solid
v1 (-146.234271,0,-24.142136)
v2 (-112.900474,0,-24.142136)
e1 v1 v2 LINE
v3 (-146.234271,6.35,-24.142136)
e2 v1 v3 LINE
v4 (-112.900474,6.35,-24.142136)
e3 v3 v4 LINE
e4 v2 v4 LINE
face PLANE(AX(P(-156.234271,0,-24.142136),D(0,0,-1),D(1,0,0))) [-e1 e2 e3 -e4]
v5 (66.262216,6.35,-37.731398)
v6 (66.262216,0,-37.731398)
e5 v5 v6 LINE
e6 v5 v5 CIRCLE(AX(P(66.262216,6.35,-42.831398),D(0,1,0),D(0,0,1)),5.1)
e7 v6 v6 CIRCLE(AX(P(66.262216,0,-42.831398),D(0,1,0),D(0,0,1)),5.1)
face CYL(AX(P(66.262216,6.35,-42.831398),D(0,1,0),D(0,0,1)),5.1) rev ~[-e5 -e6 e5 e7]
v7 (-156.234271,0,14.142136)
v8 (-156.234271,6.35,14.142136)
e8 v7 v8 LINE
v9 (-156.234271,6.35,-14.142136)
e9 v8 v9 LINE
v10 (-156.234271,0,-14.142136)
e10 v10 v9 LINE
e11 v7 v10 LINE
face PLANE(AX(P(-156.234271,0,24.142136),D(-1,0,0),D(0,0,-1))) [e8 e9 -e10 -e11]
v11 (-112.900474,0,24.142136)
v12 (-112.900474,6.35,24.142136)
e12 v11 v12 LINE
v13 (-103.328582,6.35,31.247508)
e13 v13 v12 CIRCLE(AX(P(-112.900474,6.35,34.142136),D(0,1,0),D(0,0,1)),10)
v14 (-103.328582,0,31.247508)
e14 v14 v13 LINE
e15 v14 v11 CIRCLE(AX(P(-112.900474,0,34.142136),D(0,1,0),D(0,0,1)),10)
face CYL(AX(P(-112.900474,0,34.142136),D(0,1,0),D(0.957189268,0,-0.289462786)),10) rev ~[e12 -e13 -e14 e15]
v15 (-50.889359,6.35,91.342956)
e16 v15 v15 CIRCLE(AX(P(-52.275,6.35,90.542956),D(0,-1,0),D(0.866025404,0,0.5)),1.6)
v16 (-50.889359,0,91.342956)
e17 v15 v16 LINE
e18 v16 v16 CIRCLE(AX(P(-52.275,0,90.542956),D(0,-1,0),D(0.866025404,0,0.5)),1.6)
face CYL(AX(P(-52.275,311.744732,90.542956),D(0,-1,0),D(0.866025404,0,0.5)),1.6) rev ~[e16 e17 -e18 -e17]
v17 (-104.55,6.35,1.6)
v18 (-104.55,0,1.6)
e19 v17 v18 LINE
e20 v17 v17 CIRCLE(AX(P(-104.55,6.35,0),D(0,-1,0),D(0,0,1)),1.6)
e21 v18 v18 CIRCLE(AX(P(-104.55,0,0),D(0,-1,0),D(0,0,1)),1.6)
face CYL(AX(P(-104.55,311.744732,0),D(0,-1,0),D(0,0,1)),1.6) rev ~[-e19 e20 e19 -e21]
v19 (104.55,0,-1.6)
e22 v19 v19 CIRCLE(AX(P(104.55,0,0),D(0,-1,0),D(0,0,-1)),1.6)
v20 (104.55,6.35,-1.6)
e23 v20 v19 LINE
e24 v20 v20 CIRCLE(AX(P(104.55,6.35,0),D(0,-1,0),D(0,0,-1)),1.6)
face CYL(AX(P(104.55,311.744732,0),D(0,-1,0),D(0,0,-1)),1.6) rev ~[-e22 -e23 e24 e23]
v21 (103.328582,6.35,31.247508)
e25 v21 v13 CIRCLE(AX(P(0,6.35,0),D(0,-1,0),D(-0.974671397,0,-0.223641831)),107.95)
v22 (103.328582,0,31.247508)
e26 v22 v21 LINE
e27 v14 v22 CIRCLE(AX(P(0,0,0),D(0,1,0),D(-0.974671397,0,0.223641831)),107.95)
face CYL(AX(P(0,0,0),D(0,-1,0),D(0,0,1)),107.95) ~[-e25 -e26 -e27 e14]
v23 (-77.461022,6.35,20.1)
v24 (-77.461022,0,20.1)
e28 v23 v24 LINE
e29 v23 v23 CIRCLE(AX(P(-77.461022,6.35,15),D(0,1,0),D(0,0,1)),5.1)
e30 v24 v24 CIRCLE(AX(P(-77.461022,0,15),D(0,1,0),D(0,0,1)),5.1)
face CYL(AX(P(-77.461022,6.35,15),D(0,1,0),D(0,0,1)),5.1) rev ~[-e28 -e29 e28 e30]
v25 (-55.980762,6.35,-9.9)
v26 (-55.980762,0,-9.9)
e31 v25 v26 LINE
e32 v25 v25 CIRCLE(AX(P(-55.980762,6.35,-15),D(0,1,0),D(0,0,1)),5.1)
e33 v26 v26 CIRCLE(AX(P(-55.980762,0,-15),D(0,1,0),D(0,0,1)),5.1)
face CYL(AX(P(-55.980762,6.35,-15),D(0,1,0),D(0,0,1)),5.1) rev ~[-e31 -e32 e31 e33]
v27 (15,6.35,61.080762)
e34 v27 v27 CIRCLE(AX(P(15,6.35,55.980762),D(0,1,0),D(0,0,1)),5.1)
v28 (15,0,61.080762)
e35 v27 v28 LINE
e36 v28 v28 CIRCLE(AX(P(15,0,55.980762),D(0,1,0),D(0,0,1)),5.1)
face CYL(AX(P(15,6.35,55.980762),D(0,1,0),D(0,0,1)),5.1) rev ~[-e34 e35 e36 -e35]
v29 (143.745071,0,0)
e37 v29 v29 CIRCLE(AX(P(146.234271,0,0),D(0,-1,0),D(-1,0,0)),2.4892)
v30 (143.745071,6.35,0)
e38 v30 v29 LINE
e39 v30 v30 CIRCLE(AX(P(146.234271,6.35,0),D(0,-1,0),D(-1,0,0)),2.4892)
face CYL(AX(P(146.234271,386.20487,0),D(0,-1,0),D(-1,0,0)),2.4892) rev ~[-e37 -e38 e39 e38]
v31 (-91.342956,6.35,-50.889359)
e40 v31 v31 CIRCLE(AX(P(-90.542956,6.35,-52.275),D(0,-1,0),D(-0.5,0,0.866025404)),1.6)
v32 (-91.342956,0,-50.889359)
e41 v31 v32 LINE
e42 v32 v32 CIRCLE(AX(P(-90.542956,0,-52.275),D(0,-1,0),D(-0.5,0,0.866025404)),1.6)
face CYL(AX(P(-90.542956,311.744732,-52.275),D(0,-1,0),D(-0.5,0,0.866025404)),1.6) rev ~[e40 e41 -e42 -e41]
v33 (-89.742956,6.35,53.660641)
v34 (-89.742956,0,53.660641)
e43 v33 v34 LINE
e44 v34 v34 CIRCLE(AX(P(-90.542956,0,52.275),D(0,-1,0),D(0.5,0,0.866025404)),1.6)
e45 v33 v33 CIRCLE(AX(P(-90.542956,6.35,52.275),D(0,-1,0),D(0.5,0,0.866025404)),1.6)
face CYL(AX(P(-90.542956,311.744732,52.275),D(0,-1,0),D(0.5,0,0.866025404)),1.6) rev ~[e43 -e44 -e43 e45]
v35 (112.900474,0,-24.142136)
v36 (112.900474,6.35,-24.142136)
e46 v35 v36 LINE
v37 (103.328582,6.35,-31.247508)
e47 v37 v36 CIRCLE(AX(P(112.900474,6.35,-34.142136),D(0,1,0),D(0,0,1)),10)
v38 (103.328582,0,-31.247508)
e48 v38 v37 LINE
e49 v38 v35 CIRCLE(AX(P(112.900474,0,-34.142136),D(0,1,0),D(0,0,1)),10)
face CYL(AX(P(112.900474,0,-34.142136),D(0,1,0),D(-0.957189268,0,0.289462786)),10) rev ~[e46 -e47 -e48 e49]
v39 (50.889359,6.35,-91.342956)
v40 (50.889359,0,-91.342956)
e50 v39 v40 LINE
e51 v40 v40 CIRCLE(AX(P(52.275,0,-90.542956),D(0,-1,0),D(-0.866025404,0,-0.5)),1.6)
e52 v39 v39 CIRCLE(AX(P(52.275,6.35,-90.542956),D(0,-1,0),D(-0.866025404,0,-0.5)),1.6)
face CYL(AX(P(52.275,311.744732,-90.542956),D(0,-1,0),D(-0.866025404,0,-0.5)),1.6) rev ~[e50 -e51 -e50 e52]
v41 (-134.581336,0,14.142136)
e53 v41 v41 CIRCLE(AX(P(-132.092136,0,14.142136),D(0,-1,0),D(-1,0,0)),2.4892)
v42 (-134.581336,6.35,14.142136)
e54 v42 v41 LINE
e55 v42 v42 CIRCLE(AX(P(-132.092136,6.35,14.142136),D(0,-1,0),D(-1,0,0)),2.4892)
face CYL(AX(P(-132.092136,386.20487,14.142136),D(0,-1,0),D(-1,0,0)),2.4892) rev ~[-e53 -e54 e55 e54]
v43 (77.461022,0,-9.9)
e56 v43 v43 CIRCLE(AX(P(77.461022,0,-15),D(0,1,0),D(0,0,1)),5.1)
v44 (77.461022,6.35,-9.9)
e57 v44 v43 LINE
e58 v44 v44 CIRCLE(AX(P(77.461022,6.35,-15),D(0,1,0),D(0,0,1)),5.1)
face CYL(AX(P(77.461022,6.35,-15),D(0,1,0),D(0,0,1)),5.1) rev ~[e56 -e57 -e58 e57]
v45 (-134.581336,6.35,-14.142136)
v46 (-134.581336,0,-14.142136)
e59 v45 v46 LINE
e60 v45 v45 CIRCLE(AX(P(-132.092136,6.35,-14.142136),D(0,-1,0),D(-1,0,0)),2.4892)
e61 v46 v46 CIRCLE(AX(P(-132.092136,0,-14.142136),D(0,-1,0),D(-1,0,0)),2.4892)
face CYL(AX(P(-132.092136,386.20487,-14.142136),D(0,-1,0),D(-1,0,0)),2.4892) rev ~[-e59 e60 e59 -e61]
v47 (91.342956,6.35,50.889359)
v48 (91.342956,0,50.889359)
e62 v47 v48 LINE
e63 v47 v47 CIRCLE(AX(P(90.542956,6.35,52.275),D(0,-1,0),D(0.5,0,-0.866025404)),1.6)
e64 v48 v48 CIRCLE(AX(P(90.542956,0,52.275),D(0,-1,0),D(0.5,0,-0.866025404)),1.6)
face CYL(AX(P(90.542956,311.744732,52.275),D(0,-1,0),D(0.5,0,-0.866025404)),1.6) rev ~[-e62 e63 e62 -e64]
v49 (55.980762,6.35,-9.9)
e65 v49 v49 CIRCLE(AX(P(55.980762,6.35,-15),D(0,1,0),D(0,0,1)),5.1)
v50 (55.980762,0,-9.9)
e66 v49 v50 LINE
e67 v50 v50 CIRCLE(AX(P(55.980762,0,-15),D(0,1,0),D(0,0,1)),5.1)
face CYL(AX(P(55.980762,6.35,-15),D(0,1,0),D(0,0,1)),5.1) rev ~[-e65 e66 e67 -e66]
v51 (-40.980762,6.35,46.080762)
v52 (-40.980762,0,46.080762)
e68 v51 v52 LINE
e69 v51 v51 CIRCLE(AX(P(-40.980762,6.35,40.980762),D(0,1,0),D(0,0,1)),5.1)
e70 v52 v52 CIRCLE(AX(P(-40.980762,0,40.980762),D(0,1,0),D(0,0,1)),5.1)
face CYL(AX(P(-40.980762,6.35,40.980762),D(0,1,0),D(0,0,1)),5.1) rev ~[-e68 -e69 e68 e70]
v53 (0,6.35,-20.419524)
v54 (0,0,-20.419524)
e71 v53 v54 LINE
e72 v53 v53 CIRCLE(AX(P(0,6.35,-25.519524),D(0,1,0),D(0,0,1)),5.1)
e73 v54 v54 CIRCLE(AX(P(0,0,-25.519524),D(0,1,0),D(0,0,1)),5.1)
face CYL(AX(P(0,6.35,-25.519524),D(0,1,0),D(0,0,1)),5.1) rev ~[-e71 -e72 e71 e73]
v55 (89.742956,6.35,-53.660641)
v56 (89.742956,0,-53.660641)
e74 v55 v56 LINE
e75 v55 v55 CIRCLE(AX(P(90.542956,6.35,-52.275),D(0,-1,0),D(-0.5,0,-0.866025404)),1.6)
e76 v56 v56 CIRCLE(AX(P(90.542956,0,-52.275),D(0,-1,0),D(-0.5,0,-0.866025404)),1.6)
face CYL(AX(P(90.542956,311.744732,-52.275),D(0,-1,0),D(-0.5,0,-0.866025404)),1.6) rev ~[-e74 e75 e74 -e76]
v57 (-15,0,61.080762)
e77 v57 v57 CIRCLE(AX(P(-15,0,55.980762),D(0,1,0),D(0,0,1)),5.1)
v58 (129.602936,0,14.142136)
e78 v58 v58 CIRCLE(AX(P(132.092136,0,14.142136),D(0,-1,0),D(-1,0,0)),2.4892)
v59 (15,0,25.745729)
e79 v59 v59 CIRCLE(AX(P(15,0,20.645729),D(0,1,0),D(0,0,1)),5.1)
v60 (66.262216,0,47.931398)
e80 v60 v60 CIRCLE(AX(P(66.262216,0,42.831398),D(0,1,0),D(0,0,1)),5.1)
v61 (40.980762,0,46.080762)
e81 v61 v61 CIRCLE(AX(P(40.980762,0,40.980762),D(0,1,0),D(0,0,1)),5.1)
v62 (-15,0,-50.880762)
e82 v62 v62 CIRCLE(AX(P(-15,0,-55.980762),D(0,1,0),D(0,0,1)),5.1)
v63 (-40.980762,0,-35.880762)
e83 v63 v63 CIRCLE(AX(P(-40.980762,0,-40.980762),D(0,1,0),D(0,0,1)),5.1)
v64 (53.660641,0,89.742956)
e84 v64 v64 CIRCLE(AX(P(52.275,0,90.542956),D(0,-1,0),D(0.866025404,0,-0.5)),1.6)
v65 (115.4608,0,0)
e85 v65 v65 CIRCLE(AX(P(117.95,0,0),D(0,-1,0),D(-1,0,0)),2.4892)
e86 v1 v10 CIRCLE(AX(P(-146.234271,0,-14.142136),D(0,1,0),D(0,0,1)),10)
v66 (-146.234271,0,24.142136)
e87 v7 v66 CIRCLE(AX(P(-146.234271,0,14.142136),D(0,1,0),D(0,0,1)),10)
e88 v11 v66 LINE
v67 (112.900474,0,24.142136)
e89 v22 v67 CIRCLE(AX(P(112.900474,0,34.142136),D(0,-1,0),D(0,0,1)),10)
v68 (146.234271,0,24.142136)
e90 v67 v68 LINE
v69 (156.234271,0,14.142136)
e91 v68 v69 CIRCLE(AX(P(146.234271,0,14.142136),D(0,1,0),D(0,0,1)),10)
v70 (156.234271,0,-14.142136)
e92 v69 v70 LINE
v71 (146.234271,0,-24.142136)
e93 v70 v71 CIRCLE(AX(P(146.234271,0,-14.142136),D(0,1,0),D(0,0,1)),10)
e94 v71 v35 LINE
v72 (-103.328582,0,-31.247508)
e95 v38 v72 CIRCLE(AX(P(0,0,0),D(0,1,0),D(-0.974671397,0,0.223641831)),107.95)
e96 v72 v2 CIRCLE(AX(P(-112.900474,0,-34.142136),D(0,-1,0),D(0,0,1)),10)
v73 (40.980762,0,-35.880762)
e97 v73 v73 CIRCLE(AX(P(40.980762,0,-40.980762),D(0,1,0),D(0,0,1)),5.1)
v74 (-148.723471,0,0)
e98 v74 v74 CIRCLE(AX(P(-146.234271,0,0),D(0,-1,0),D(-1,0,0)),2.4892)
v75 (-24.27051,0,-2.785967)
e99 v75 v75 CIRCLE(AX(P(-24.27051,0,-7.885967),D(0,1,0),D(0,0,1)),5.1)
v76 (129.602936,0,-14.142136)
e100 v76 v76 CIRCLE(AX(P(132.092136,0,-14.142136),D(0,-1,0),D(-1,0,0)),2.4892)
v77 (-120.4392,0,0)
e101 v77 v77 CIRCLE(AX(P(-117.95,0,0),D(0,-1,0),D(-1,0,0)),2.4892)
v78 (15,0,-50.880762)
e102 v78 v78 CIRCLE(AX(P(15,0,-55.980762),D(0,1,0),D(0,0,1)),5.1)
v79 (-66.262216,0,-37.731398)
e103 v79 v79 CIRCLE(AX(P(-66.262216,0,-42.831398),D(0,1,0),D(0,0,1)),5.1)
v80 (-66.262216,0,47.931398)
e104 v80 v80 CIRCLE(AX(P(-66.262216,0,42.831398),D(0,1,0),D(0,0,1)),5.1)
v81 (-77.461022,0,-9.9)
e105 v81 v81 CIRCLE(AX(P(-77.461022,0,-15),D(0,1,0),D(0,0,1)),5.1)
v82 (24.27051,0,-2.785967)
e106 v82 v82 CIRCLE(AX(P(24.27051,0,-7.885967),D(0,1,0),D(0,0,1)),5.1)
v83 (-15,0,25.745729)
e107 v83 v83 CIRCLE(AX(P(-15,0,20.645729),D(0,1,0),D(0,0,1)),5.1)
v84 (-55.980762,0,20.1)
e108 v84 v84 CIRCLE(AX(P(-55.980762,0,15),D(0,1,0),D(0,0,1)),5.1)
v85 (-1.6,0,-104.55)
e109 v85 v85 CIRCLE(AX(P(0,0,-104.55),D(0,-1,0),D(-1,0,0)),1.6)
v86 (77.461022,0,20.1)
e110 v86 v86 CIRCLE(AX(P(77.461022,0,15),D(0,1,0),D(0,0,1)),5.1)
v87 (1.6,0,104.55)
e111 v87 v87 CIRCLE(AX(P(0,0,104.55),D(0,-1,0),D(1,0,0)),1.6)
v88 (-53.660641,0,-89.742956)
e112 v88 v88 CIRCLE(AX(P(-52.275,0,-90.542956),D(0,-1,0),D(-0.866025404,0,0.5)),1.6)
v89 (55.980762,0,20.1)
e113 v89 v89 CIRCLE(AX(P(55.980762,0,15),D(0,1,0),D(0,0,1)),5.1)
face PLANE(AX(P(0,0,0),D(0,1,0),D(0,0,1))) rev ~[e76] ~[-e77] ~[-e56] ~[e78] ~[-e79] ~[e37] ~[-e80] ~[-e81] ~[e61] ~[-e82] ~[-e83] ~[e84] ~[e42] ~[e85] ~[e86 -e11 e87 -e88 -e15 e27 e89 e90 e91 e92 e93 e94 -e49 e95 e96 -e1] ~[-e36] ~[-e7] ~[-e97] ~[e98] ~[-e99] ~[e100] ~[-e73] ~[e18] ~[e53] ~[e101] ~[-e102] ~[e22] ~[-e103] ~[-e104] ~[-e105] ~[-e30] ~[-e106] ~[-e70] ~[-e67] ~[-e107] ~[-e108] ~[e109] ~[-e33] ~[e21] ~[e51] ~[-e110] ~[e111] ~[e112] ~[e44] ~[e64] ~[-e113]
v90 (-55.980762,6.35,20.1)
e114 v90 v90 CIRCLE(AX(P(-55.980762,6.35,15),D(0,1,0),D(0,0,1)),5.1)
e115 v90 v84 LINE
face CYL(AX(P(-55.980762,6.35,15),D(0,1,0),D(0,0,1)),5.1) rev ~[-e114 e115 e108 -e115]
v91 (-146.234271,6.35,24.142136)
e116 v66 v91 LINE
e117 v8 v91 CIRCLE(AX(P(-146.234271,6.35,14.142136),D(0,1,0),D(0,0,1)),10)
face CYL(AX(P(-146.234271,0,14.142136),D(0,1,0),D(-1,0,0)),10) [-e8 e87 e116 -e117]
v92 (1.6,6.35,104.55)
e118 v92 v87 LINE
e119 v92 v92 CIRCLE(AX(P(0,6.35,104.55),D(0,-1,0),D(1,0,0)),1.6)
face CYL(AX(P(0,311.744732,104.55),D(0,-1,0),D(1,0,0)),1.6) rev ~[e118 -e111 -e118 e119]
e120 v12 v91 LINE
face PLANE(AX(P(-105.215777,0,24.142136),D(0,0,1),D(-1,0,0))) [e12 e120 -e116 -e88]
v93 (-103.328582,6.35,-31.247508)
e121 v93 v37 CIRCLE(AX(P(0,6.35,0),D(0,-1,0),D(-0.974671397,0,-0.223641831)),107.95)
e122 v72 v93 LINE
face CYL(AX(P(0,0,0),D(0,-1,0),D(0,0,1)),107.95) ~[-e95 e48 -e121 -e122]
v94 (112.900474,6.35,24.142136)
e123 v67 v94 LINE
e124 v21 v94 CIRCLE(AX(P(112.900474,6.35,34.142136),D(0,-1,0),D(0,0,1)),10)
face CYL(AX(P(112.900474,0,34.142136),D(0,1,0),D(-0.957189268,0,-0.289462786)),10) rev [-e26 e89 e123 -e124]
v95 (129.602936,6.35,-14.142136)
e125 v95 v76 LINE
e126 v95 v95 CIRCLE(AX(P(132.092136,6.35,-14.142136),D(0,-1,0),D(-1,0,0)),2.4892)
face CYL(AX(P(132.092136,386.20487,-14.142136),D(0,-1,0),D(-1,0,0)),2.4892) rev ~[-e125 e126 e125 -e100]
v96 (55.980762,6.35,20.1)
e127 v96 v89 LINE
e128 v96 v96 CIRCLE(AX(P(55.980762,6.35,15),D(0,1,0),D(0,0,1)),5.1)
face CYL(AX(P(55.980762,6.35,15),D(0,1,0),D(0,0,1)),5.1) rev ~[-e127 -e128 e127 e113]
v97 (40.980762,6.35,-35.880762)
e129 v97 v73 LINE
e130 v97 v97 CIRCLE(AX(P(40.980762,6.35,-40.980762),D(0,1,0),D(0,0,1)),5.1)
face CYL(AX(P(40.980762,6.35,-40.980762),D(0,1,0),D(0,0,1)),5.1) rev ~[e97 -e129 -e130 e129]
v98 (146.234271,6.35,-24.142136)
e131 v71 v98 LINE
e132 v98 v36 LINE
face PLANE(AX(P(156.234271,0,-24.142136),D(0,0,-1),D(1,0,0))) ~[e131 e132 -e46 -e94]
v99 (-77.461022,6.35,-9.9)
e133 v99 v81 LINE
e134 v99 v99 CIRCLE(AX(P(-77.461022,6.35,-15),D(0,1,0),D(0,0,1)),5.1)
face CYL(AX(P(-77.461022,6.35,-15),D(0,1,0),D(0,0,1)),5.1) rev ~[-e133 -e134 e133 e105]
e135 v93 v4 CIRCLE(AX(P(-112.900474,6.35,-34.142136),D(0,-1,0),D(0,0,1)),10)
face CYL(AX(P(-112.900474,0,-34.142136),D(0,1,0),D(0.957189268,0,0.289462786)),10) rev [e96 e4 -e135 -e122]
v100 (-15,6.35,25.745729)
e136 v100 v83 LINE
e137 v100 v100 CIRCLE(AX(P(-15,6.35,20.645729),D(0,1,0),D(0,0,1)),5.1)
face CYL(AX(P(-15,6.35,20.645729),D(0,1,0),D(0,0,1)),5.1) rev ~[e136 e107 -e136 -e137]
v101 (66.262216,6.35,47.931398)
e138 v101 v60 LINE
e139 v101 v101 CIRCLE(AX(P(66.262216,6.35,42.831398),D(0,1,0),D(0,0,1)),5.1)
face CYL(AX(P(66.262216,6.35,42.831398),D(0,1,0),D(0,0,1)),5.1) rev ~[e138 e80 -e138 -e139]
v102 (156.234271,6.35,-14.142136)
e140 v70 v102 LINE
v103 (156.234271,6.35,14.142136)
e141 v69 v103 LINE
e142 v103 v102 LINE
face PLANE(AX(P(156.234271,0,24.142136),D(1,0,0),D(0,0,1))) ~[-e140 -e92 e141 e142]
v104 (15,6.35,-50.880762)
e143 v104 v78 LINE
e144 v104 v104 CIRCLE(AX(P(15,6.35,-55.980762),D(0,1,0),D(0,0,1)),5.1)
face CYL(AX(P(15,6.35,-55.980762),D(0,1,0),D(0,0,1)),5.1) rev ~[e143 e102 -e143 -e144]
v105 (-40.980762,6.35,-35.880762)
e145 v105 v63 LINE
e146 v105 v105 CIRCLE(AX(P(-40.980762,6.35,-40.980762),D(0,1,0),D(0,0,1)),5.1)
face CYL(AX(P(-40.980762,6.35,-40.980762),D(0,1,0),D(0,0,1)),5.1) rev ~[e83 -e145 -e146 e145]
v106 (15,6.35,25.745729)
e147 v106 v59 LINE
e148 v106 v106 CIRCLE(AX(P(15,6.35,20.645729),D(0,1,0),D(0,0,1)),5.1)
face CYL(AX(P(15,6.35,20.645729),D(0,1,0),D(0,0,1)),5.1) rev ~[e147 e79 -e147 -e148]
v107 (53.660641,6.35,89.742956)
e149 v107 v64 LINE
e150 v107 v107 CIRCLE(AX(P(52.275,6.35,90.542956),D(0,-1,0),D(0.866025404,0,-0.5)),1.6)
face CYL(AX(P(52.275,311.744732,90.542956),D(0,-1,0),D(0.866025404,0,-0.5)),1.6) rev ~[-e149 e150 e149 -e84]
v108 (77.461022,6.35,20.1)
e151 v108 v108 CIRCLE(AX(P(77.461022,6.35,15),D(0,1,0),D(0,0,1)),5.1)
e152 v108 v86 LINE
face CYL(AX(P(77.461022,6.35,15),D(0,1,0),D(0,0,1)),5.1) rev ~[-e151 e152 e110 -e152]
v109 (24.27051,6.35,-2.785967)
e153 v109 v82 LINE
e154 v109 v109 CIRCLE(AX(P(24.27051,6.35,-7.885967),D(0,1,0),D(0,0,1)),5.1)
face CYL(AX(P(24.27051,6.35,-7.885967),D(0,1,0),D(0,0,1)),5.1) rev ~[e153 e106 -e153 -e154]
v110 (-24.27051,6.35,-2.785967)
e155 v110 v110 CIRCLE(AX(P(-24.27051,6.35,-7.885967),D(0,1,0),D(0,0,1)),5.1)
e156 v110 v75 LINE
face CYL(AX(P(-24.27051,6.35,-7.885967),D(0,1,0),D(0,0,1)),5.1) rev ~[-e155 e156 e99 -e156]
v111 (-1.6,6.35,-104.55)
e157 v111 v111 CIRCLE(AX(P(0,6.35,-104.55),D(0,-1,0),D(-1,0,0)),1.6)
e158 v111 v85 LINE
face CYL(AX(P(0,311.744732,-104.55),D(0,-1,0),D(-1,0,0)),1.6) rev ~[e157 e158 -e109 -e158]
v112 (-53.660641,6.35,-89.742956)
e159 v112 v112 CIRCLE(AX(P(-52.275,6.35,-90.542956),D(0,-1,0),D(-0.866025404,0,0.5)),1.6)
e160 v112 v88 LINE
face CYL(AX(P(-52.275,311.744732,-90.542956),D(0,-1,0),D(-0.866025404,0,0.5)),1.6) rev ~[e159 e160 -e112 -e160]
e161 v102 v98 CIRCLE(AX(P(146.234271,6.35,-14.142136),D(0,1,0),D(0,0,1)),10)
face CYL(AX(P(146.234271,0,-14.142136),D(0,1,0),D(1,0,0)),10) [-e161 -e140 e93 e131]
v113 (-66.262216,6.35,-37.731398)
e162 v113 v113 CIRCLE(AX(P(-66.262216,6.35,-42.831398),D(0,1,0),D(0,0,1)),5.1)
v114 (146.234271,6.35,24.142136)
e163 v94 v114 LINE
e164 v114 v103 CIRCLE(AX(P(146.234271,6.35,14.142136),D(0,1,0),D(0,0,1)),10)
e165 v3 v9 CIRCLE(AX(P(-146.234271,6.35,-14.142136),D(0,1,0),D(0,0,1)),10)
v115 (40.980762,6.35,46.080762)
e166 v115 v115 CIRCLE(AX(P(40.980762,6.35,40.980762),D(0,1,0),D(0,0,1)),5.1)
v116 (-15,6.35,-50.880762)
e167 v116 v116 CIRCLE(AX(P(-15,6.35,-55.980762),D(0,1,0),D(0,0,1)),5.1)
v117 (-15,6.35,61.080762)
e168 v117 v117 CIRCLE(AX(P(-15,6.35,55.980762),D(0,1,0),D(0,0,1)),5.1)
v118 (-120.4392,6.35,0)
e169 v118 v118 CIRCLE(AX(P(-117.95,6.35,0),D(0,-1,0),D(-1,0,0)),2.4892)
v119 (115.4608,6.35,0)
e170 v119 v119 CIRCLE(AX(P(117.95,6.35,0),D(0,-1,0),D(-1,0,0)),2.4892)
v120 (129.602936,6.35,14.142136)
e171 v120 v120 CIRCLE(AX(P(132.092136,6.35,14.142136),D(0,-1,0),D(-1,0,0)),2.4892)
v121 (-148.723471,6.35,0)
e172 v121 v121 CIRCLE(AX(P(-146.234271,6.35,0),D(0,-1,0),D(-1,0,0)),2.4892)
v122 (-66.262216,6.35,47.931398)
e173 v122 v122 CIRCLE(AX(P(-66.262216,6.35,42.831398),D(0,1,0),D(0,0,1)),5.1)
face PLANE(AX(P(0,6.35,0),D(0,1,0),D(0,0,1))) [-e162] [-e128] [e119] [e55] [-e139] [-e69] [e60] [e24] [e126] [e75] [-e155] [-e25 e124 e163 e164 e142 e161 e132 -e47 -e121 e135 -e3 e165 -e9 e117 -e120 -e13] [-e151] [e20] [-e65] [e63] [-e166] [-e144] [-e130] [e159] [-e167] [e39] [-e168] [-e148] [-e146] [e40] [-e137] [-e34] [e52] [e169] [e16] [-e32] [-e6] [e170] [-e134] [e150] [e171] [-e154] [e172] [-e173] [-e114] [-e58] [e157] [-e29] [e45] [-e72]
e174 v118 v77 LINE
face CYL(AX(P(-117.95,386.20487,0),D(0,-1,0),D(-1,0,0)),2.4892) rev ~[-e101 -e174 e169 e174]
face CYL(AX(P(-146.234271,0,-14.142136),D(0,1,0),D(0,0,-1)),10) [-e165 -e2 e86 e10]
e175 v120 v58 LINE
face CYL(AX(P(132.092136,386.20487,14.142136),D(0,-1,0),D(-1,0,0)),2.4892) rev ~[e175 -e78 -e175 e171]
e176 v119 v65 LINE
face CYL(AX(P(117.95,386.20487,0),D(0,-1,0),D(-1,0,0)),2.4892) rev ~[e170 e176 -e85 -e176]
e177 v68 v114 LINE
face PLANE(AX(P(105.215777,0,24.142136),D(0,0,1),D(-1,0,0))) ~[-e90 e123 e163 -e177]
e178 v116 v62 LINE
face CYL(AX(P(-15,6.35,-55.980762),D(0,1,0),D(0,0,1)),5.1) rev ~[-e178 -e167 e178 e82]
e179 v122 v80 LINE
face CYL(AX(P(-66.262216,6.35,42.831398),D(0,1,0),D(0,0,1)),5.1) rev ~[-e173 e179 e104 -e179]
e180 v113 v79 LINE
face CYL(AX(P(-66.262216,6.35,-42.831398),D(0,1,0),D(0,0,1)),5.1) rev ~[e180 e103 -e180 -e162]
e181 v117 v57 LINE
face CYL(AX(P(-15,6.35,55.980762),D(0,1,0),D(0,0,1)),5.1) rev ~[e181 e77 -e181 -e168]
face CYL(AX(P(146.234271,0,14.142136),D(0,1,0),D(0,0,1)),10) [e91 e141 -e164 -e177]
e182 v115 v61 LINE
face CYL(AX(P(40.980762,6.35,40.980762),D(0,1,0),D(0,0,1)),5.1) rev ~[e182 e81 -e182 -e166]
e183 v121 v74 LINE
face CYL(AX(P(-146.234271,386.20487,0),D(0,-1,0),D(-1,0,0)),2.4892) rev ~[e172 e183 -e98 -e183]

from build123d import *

# Parameters (mm, degrees)
SKETCH1_R              = 107.95
BOSS_EXTRUDE1_DEPTH    = 6.35
M3_CLEARANCE_HOLE1_D   = 3.2
CIRPATTERN1_COUNT      = 12
BOSS_EXTRUDE2_DEPTH    = 6.35
FILLET1_R              = 10
FILLET1_OF_MIRROR1_R   = 10
F_10_CLEARANCE_HOLE3_D = 4.9784
SKETCH11_R             = 5.1
CUT_EXTRUDE1_DEPTH     = 6.35


with BuildPart() as part:
    # Sketch1 → Boss-Extrude1 (new body)
    with BuildSketch(Plane(origin=(0, 0, 0), x_dir=(1, 0, 0), z_dir=(0, 1, 0))):
        with Locations(Location((0, 0, 0), (0, 0, 270))):
            Circle(SKETCH1_R)
    extrude(amount=BOSS_EXTRUDE1_DEPTH)

    # M3 Clearance Hole1 (through all)
    with Locations(Plane(origin=(0, 6.35, 0), x_dir=(1, 0, 0), z_dir=(0, 1, 0))):
        with Locations((0, 104.55)):
            m3_clearance_hole1 = Hole(M3_CLEARANCE_HOLE1_D / 2)

    # CirPattern1: M3 Clearance Hole1 ×12 about axis
    cirpattern1_axis = Axis((0, 0, 0), (0, 1, 0))
    for i in range(1, CIRPATTERN1_COUNT):
        add(m3_clearance_hole1.rotate(cirpattern1_axis, i * 360 / CIRPATTERN1_COUNT), mode=Mode.SUBTRACT)

    # Sketch2 → Boss-Extrude2 (add)
    with BuildSketch(Plane(origin=(0, 0, 0), x_dir=(1, 0, 0), z_dir=(0, 1, 0))):
        with BuildLine():
            Line((-156.234271247, 24.142135624), (-105.215777275, 24.142135624))
            ThreePointArc((-105.215777275, 24.142135624), (-107.95, 0), (-105.215777275, -24.142135624))
            Line((-105.215777275, -24.142135624), (-156.234271247, -24.142135624))
            Line((-156.234271247, -24.142135624), (-156.234271247, 24.142135624))
        make_face()
    boss_extrude2 = extrude(amount=BOSS_EXTRUDE2_DEPTH)

    # Fillet1
    fillet1_edges = [part.edges().sort_by_distance(p)[0] for p in [
        (-156.234271247, 3.175, -24.142135624),
        (-156.234271247, 3.175, 24.142135624),
        (-105.215777275, 3.175, 24.142135624),
        (-105.215777275, 3.175, -24.142135624),
    ]]
    fillet(fillet1_edges, radius=FILLET1_R)

    # Mirror1: Boss-Extrude2 across plane
    add(boss_extrude2.mirror(Plane(origin=(0, 0, 0), x_dir=(0, 0, 1), z_dir=(1, 0, 0))))

    # Fillet1 of Mirror1
    fillet1_of_mirror1_edges = [part.edges().sort_by_distance(p)[0] for p in [
        (156.234271247, 3.175, -24.142135624),
        (156.234271247, 3.175, 24.142135624),
        (105.215777275, 3.175, 24.142135624),
        (105.215777275, 3.175, -24.142135624),
    ]]
    fillet(fillet1_of_mirror1_edges, radius=FILLET1_OF_MIRROR1_R)

    # #10 Clearance Hole3 (through all)
    with Locations(Plane(origin=(0, 6.35, 0), x_dir=(1, 0, 0), z_dir=(0, 1, 0))):
        with Locations((-132.092135624, -14.142135624), (-117.95, 0), (-132.092135624, 14.142135624), (-146.234271247, 0), (146.234271247, 0), (132.092135624, 14.142135624), (117.95, 0), (132.092135624, -14.142135624)):
            Hole(F_10_CLEARANCE_HOLE3_D / 2)

    # Sketch11 → Cut-Extrude1 (cut)
    with BuildSketch(Plane(origin=(0, 6.35, 0), x_dir=(1, 0, 0), z_dir=(0, 1, 0))):
        with Locations(Location((-66.262216278, 42.831398459, 0), (0, 0, 270))):
            Circle(SKETCH11_R)
        with Locations(Location((-77.461022456, 15, 0), (0, 0, 270))):
            Circle(SKETCH11_R)
        with Locations(Location((-77.461022456, -15, 0), (0, 0, 270))):
            Circle(SKETCH11_R)
        with Locations(Location((-66.262216278, -42.831398459, 0), (0, 0, 270))):
            Circle(SKETCH11_R)
        with Locations(Location((0, 25.519524251, 0), (0, 0, 270))):
            Circle(SKETCH11_R)
        with Locations(Location((-24.270509831, 7.885966682, 0), (0, 0, 270))):
            Circle(SKETCH11_R)
        with Locations(Location((24.270509831, 7.885966682, 0), (0, 0, 270))):
            Circle(SKETCH11_R)
        with Locations(Location((-15, -20.645728807, 0), (0, 0, 270))):
            Circle(SKETCH11_R)
        with Locations(Location((15, -20.645728807, 0), (0, 0, 270))):
            Circle(SKETCH11_R)
        with Locations(Location((-55.980762114, -15, 0), (0, 0, 270))):
            Circle(SKETCH11_R)
        with Locations(Location((-40.980762114, -40.980762114, 0), (0, 0, 270))):
            Circle(SKETCH11_R)
        with Locations(Location((-15, -55.980762114, 0), (0, 0, 270))):
            Circle(SKETCH11_R)
        with Locations(Location((15, -55.980762114, 0), (0, 0, 270))):
            Circle(SKETCH11_R)
        with Locations(Location((-55.980762114, 15, 0), (0, 0, 270))):
            Circle(SKETCH11_R)
        with Locations(Location((55.980762114, -15, 0), (0, 0, 270))):
            Circle(SKETCH11_R)
        with Locations(Location((40.980762114, -40.980762114, 0), (0, 0, 270))):
            Circle(SKETCH11_R)
        with Locations(Location((66.262216278, -42.831398459, 0), (0, 0, 270))):
            Circle(SKETCH11_R)
        with Locations(Location((77.461022456, -15, 0), (0, 0, 270))):
            Circle(SKETCH11_R)
        with Locations(Location((77.461022456, 15, 0), (0, 0, 270))):
            Circle(SKETCH11_R)
        with Locations(Location((66.262216278, 42.831398459, 0), (0, 0, 270))):
            Circle(SKETCH11_R)
        with Locations(Location((55.980762114, 15, 0), (0, 0, 270))):
            Circle(SKETCH11_R)
        with Locations(Location((40.980762114, 40.980762114, 0), (0, 0, 270))):
            Circle(SKETCH11_R)
        with Locations(Location((15, 55.980762114, 0), (0, 0, 270))):
            Circle(SKETCH11_R)
        with Locations(Location((-15, 55.980762114, 0), (0, 0, 270))):
            Circle(SKETCH11_R)
        with Locations(Location((-40.980762114, 40.980762114, 0), (0, 0, 270))):
            Circle(SKETCH11_R)
    extrude(amount=-CUT_EXTRUDE1_DEPTH, mode=Mode.SUBTRACT)


solid = part.part
